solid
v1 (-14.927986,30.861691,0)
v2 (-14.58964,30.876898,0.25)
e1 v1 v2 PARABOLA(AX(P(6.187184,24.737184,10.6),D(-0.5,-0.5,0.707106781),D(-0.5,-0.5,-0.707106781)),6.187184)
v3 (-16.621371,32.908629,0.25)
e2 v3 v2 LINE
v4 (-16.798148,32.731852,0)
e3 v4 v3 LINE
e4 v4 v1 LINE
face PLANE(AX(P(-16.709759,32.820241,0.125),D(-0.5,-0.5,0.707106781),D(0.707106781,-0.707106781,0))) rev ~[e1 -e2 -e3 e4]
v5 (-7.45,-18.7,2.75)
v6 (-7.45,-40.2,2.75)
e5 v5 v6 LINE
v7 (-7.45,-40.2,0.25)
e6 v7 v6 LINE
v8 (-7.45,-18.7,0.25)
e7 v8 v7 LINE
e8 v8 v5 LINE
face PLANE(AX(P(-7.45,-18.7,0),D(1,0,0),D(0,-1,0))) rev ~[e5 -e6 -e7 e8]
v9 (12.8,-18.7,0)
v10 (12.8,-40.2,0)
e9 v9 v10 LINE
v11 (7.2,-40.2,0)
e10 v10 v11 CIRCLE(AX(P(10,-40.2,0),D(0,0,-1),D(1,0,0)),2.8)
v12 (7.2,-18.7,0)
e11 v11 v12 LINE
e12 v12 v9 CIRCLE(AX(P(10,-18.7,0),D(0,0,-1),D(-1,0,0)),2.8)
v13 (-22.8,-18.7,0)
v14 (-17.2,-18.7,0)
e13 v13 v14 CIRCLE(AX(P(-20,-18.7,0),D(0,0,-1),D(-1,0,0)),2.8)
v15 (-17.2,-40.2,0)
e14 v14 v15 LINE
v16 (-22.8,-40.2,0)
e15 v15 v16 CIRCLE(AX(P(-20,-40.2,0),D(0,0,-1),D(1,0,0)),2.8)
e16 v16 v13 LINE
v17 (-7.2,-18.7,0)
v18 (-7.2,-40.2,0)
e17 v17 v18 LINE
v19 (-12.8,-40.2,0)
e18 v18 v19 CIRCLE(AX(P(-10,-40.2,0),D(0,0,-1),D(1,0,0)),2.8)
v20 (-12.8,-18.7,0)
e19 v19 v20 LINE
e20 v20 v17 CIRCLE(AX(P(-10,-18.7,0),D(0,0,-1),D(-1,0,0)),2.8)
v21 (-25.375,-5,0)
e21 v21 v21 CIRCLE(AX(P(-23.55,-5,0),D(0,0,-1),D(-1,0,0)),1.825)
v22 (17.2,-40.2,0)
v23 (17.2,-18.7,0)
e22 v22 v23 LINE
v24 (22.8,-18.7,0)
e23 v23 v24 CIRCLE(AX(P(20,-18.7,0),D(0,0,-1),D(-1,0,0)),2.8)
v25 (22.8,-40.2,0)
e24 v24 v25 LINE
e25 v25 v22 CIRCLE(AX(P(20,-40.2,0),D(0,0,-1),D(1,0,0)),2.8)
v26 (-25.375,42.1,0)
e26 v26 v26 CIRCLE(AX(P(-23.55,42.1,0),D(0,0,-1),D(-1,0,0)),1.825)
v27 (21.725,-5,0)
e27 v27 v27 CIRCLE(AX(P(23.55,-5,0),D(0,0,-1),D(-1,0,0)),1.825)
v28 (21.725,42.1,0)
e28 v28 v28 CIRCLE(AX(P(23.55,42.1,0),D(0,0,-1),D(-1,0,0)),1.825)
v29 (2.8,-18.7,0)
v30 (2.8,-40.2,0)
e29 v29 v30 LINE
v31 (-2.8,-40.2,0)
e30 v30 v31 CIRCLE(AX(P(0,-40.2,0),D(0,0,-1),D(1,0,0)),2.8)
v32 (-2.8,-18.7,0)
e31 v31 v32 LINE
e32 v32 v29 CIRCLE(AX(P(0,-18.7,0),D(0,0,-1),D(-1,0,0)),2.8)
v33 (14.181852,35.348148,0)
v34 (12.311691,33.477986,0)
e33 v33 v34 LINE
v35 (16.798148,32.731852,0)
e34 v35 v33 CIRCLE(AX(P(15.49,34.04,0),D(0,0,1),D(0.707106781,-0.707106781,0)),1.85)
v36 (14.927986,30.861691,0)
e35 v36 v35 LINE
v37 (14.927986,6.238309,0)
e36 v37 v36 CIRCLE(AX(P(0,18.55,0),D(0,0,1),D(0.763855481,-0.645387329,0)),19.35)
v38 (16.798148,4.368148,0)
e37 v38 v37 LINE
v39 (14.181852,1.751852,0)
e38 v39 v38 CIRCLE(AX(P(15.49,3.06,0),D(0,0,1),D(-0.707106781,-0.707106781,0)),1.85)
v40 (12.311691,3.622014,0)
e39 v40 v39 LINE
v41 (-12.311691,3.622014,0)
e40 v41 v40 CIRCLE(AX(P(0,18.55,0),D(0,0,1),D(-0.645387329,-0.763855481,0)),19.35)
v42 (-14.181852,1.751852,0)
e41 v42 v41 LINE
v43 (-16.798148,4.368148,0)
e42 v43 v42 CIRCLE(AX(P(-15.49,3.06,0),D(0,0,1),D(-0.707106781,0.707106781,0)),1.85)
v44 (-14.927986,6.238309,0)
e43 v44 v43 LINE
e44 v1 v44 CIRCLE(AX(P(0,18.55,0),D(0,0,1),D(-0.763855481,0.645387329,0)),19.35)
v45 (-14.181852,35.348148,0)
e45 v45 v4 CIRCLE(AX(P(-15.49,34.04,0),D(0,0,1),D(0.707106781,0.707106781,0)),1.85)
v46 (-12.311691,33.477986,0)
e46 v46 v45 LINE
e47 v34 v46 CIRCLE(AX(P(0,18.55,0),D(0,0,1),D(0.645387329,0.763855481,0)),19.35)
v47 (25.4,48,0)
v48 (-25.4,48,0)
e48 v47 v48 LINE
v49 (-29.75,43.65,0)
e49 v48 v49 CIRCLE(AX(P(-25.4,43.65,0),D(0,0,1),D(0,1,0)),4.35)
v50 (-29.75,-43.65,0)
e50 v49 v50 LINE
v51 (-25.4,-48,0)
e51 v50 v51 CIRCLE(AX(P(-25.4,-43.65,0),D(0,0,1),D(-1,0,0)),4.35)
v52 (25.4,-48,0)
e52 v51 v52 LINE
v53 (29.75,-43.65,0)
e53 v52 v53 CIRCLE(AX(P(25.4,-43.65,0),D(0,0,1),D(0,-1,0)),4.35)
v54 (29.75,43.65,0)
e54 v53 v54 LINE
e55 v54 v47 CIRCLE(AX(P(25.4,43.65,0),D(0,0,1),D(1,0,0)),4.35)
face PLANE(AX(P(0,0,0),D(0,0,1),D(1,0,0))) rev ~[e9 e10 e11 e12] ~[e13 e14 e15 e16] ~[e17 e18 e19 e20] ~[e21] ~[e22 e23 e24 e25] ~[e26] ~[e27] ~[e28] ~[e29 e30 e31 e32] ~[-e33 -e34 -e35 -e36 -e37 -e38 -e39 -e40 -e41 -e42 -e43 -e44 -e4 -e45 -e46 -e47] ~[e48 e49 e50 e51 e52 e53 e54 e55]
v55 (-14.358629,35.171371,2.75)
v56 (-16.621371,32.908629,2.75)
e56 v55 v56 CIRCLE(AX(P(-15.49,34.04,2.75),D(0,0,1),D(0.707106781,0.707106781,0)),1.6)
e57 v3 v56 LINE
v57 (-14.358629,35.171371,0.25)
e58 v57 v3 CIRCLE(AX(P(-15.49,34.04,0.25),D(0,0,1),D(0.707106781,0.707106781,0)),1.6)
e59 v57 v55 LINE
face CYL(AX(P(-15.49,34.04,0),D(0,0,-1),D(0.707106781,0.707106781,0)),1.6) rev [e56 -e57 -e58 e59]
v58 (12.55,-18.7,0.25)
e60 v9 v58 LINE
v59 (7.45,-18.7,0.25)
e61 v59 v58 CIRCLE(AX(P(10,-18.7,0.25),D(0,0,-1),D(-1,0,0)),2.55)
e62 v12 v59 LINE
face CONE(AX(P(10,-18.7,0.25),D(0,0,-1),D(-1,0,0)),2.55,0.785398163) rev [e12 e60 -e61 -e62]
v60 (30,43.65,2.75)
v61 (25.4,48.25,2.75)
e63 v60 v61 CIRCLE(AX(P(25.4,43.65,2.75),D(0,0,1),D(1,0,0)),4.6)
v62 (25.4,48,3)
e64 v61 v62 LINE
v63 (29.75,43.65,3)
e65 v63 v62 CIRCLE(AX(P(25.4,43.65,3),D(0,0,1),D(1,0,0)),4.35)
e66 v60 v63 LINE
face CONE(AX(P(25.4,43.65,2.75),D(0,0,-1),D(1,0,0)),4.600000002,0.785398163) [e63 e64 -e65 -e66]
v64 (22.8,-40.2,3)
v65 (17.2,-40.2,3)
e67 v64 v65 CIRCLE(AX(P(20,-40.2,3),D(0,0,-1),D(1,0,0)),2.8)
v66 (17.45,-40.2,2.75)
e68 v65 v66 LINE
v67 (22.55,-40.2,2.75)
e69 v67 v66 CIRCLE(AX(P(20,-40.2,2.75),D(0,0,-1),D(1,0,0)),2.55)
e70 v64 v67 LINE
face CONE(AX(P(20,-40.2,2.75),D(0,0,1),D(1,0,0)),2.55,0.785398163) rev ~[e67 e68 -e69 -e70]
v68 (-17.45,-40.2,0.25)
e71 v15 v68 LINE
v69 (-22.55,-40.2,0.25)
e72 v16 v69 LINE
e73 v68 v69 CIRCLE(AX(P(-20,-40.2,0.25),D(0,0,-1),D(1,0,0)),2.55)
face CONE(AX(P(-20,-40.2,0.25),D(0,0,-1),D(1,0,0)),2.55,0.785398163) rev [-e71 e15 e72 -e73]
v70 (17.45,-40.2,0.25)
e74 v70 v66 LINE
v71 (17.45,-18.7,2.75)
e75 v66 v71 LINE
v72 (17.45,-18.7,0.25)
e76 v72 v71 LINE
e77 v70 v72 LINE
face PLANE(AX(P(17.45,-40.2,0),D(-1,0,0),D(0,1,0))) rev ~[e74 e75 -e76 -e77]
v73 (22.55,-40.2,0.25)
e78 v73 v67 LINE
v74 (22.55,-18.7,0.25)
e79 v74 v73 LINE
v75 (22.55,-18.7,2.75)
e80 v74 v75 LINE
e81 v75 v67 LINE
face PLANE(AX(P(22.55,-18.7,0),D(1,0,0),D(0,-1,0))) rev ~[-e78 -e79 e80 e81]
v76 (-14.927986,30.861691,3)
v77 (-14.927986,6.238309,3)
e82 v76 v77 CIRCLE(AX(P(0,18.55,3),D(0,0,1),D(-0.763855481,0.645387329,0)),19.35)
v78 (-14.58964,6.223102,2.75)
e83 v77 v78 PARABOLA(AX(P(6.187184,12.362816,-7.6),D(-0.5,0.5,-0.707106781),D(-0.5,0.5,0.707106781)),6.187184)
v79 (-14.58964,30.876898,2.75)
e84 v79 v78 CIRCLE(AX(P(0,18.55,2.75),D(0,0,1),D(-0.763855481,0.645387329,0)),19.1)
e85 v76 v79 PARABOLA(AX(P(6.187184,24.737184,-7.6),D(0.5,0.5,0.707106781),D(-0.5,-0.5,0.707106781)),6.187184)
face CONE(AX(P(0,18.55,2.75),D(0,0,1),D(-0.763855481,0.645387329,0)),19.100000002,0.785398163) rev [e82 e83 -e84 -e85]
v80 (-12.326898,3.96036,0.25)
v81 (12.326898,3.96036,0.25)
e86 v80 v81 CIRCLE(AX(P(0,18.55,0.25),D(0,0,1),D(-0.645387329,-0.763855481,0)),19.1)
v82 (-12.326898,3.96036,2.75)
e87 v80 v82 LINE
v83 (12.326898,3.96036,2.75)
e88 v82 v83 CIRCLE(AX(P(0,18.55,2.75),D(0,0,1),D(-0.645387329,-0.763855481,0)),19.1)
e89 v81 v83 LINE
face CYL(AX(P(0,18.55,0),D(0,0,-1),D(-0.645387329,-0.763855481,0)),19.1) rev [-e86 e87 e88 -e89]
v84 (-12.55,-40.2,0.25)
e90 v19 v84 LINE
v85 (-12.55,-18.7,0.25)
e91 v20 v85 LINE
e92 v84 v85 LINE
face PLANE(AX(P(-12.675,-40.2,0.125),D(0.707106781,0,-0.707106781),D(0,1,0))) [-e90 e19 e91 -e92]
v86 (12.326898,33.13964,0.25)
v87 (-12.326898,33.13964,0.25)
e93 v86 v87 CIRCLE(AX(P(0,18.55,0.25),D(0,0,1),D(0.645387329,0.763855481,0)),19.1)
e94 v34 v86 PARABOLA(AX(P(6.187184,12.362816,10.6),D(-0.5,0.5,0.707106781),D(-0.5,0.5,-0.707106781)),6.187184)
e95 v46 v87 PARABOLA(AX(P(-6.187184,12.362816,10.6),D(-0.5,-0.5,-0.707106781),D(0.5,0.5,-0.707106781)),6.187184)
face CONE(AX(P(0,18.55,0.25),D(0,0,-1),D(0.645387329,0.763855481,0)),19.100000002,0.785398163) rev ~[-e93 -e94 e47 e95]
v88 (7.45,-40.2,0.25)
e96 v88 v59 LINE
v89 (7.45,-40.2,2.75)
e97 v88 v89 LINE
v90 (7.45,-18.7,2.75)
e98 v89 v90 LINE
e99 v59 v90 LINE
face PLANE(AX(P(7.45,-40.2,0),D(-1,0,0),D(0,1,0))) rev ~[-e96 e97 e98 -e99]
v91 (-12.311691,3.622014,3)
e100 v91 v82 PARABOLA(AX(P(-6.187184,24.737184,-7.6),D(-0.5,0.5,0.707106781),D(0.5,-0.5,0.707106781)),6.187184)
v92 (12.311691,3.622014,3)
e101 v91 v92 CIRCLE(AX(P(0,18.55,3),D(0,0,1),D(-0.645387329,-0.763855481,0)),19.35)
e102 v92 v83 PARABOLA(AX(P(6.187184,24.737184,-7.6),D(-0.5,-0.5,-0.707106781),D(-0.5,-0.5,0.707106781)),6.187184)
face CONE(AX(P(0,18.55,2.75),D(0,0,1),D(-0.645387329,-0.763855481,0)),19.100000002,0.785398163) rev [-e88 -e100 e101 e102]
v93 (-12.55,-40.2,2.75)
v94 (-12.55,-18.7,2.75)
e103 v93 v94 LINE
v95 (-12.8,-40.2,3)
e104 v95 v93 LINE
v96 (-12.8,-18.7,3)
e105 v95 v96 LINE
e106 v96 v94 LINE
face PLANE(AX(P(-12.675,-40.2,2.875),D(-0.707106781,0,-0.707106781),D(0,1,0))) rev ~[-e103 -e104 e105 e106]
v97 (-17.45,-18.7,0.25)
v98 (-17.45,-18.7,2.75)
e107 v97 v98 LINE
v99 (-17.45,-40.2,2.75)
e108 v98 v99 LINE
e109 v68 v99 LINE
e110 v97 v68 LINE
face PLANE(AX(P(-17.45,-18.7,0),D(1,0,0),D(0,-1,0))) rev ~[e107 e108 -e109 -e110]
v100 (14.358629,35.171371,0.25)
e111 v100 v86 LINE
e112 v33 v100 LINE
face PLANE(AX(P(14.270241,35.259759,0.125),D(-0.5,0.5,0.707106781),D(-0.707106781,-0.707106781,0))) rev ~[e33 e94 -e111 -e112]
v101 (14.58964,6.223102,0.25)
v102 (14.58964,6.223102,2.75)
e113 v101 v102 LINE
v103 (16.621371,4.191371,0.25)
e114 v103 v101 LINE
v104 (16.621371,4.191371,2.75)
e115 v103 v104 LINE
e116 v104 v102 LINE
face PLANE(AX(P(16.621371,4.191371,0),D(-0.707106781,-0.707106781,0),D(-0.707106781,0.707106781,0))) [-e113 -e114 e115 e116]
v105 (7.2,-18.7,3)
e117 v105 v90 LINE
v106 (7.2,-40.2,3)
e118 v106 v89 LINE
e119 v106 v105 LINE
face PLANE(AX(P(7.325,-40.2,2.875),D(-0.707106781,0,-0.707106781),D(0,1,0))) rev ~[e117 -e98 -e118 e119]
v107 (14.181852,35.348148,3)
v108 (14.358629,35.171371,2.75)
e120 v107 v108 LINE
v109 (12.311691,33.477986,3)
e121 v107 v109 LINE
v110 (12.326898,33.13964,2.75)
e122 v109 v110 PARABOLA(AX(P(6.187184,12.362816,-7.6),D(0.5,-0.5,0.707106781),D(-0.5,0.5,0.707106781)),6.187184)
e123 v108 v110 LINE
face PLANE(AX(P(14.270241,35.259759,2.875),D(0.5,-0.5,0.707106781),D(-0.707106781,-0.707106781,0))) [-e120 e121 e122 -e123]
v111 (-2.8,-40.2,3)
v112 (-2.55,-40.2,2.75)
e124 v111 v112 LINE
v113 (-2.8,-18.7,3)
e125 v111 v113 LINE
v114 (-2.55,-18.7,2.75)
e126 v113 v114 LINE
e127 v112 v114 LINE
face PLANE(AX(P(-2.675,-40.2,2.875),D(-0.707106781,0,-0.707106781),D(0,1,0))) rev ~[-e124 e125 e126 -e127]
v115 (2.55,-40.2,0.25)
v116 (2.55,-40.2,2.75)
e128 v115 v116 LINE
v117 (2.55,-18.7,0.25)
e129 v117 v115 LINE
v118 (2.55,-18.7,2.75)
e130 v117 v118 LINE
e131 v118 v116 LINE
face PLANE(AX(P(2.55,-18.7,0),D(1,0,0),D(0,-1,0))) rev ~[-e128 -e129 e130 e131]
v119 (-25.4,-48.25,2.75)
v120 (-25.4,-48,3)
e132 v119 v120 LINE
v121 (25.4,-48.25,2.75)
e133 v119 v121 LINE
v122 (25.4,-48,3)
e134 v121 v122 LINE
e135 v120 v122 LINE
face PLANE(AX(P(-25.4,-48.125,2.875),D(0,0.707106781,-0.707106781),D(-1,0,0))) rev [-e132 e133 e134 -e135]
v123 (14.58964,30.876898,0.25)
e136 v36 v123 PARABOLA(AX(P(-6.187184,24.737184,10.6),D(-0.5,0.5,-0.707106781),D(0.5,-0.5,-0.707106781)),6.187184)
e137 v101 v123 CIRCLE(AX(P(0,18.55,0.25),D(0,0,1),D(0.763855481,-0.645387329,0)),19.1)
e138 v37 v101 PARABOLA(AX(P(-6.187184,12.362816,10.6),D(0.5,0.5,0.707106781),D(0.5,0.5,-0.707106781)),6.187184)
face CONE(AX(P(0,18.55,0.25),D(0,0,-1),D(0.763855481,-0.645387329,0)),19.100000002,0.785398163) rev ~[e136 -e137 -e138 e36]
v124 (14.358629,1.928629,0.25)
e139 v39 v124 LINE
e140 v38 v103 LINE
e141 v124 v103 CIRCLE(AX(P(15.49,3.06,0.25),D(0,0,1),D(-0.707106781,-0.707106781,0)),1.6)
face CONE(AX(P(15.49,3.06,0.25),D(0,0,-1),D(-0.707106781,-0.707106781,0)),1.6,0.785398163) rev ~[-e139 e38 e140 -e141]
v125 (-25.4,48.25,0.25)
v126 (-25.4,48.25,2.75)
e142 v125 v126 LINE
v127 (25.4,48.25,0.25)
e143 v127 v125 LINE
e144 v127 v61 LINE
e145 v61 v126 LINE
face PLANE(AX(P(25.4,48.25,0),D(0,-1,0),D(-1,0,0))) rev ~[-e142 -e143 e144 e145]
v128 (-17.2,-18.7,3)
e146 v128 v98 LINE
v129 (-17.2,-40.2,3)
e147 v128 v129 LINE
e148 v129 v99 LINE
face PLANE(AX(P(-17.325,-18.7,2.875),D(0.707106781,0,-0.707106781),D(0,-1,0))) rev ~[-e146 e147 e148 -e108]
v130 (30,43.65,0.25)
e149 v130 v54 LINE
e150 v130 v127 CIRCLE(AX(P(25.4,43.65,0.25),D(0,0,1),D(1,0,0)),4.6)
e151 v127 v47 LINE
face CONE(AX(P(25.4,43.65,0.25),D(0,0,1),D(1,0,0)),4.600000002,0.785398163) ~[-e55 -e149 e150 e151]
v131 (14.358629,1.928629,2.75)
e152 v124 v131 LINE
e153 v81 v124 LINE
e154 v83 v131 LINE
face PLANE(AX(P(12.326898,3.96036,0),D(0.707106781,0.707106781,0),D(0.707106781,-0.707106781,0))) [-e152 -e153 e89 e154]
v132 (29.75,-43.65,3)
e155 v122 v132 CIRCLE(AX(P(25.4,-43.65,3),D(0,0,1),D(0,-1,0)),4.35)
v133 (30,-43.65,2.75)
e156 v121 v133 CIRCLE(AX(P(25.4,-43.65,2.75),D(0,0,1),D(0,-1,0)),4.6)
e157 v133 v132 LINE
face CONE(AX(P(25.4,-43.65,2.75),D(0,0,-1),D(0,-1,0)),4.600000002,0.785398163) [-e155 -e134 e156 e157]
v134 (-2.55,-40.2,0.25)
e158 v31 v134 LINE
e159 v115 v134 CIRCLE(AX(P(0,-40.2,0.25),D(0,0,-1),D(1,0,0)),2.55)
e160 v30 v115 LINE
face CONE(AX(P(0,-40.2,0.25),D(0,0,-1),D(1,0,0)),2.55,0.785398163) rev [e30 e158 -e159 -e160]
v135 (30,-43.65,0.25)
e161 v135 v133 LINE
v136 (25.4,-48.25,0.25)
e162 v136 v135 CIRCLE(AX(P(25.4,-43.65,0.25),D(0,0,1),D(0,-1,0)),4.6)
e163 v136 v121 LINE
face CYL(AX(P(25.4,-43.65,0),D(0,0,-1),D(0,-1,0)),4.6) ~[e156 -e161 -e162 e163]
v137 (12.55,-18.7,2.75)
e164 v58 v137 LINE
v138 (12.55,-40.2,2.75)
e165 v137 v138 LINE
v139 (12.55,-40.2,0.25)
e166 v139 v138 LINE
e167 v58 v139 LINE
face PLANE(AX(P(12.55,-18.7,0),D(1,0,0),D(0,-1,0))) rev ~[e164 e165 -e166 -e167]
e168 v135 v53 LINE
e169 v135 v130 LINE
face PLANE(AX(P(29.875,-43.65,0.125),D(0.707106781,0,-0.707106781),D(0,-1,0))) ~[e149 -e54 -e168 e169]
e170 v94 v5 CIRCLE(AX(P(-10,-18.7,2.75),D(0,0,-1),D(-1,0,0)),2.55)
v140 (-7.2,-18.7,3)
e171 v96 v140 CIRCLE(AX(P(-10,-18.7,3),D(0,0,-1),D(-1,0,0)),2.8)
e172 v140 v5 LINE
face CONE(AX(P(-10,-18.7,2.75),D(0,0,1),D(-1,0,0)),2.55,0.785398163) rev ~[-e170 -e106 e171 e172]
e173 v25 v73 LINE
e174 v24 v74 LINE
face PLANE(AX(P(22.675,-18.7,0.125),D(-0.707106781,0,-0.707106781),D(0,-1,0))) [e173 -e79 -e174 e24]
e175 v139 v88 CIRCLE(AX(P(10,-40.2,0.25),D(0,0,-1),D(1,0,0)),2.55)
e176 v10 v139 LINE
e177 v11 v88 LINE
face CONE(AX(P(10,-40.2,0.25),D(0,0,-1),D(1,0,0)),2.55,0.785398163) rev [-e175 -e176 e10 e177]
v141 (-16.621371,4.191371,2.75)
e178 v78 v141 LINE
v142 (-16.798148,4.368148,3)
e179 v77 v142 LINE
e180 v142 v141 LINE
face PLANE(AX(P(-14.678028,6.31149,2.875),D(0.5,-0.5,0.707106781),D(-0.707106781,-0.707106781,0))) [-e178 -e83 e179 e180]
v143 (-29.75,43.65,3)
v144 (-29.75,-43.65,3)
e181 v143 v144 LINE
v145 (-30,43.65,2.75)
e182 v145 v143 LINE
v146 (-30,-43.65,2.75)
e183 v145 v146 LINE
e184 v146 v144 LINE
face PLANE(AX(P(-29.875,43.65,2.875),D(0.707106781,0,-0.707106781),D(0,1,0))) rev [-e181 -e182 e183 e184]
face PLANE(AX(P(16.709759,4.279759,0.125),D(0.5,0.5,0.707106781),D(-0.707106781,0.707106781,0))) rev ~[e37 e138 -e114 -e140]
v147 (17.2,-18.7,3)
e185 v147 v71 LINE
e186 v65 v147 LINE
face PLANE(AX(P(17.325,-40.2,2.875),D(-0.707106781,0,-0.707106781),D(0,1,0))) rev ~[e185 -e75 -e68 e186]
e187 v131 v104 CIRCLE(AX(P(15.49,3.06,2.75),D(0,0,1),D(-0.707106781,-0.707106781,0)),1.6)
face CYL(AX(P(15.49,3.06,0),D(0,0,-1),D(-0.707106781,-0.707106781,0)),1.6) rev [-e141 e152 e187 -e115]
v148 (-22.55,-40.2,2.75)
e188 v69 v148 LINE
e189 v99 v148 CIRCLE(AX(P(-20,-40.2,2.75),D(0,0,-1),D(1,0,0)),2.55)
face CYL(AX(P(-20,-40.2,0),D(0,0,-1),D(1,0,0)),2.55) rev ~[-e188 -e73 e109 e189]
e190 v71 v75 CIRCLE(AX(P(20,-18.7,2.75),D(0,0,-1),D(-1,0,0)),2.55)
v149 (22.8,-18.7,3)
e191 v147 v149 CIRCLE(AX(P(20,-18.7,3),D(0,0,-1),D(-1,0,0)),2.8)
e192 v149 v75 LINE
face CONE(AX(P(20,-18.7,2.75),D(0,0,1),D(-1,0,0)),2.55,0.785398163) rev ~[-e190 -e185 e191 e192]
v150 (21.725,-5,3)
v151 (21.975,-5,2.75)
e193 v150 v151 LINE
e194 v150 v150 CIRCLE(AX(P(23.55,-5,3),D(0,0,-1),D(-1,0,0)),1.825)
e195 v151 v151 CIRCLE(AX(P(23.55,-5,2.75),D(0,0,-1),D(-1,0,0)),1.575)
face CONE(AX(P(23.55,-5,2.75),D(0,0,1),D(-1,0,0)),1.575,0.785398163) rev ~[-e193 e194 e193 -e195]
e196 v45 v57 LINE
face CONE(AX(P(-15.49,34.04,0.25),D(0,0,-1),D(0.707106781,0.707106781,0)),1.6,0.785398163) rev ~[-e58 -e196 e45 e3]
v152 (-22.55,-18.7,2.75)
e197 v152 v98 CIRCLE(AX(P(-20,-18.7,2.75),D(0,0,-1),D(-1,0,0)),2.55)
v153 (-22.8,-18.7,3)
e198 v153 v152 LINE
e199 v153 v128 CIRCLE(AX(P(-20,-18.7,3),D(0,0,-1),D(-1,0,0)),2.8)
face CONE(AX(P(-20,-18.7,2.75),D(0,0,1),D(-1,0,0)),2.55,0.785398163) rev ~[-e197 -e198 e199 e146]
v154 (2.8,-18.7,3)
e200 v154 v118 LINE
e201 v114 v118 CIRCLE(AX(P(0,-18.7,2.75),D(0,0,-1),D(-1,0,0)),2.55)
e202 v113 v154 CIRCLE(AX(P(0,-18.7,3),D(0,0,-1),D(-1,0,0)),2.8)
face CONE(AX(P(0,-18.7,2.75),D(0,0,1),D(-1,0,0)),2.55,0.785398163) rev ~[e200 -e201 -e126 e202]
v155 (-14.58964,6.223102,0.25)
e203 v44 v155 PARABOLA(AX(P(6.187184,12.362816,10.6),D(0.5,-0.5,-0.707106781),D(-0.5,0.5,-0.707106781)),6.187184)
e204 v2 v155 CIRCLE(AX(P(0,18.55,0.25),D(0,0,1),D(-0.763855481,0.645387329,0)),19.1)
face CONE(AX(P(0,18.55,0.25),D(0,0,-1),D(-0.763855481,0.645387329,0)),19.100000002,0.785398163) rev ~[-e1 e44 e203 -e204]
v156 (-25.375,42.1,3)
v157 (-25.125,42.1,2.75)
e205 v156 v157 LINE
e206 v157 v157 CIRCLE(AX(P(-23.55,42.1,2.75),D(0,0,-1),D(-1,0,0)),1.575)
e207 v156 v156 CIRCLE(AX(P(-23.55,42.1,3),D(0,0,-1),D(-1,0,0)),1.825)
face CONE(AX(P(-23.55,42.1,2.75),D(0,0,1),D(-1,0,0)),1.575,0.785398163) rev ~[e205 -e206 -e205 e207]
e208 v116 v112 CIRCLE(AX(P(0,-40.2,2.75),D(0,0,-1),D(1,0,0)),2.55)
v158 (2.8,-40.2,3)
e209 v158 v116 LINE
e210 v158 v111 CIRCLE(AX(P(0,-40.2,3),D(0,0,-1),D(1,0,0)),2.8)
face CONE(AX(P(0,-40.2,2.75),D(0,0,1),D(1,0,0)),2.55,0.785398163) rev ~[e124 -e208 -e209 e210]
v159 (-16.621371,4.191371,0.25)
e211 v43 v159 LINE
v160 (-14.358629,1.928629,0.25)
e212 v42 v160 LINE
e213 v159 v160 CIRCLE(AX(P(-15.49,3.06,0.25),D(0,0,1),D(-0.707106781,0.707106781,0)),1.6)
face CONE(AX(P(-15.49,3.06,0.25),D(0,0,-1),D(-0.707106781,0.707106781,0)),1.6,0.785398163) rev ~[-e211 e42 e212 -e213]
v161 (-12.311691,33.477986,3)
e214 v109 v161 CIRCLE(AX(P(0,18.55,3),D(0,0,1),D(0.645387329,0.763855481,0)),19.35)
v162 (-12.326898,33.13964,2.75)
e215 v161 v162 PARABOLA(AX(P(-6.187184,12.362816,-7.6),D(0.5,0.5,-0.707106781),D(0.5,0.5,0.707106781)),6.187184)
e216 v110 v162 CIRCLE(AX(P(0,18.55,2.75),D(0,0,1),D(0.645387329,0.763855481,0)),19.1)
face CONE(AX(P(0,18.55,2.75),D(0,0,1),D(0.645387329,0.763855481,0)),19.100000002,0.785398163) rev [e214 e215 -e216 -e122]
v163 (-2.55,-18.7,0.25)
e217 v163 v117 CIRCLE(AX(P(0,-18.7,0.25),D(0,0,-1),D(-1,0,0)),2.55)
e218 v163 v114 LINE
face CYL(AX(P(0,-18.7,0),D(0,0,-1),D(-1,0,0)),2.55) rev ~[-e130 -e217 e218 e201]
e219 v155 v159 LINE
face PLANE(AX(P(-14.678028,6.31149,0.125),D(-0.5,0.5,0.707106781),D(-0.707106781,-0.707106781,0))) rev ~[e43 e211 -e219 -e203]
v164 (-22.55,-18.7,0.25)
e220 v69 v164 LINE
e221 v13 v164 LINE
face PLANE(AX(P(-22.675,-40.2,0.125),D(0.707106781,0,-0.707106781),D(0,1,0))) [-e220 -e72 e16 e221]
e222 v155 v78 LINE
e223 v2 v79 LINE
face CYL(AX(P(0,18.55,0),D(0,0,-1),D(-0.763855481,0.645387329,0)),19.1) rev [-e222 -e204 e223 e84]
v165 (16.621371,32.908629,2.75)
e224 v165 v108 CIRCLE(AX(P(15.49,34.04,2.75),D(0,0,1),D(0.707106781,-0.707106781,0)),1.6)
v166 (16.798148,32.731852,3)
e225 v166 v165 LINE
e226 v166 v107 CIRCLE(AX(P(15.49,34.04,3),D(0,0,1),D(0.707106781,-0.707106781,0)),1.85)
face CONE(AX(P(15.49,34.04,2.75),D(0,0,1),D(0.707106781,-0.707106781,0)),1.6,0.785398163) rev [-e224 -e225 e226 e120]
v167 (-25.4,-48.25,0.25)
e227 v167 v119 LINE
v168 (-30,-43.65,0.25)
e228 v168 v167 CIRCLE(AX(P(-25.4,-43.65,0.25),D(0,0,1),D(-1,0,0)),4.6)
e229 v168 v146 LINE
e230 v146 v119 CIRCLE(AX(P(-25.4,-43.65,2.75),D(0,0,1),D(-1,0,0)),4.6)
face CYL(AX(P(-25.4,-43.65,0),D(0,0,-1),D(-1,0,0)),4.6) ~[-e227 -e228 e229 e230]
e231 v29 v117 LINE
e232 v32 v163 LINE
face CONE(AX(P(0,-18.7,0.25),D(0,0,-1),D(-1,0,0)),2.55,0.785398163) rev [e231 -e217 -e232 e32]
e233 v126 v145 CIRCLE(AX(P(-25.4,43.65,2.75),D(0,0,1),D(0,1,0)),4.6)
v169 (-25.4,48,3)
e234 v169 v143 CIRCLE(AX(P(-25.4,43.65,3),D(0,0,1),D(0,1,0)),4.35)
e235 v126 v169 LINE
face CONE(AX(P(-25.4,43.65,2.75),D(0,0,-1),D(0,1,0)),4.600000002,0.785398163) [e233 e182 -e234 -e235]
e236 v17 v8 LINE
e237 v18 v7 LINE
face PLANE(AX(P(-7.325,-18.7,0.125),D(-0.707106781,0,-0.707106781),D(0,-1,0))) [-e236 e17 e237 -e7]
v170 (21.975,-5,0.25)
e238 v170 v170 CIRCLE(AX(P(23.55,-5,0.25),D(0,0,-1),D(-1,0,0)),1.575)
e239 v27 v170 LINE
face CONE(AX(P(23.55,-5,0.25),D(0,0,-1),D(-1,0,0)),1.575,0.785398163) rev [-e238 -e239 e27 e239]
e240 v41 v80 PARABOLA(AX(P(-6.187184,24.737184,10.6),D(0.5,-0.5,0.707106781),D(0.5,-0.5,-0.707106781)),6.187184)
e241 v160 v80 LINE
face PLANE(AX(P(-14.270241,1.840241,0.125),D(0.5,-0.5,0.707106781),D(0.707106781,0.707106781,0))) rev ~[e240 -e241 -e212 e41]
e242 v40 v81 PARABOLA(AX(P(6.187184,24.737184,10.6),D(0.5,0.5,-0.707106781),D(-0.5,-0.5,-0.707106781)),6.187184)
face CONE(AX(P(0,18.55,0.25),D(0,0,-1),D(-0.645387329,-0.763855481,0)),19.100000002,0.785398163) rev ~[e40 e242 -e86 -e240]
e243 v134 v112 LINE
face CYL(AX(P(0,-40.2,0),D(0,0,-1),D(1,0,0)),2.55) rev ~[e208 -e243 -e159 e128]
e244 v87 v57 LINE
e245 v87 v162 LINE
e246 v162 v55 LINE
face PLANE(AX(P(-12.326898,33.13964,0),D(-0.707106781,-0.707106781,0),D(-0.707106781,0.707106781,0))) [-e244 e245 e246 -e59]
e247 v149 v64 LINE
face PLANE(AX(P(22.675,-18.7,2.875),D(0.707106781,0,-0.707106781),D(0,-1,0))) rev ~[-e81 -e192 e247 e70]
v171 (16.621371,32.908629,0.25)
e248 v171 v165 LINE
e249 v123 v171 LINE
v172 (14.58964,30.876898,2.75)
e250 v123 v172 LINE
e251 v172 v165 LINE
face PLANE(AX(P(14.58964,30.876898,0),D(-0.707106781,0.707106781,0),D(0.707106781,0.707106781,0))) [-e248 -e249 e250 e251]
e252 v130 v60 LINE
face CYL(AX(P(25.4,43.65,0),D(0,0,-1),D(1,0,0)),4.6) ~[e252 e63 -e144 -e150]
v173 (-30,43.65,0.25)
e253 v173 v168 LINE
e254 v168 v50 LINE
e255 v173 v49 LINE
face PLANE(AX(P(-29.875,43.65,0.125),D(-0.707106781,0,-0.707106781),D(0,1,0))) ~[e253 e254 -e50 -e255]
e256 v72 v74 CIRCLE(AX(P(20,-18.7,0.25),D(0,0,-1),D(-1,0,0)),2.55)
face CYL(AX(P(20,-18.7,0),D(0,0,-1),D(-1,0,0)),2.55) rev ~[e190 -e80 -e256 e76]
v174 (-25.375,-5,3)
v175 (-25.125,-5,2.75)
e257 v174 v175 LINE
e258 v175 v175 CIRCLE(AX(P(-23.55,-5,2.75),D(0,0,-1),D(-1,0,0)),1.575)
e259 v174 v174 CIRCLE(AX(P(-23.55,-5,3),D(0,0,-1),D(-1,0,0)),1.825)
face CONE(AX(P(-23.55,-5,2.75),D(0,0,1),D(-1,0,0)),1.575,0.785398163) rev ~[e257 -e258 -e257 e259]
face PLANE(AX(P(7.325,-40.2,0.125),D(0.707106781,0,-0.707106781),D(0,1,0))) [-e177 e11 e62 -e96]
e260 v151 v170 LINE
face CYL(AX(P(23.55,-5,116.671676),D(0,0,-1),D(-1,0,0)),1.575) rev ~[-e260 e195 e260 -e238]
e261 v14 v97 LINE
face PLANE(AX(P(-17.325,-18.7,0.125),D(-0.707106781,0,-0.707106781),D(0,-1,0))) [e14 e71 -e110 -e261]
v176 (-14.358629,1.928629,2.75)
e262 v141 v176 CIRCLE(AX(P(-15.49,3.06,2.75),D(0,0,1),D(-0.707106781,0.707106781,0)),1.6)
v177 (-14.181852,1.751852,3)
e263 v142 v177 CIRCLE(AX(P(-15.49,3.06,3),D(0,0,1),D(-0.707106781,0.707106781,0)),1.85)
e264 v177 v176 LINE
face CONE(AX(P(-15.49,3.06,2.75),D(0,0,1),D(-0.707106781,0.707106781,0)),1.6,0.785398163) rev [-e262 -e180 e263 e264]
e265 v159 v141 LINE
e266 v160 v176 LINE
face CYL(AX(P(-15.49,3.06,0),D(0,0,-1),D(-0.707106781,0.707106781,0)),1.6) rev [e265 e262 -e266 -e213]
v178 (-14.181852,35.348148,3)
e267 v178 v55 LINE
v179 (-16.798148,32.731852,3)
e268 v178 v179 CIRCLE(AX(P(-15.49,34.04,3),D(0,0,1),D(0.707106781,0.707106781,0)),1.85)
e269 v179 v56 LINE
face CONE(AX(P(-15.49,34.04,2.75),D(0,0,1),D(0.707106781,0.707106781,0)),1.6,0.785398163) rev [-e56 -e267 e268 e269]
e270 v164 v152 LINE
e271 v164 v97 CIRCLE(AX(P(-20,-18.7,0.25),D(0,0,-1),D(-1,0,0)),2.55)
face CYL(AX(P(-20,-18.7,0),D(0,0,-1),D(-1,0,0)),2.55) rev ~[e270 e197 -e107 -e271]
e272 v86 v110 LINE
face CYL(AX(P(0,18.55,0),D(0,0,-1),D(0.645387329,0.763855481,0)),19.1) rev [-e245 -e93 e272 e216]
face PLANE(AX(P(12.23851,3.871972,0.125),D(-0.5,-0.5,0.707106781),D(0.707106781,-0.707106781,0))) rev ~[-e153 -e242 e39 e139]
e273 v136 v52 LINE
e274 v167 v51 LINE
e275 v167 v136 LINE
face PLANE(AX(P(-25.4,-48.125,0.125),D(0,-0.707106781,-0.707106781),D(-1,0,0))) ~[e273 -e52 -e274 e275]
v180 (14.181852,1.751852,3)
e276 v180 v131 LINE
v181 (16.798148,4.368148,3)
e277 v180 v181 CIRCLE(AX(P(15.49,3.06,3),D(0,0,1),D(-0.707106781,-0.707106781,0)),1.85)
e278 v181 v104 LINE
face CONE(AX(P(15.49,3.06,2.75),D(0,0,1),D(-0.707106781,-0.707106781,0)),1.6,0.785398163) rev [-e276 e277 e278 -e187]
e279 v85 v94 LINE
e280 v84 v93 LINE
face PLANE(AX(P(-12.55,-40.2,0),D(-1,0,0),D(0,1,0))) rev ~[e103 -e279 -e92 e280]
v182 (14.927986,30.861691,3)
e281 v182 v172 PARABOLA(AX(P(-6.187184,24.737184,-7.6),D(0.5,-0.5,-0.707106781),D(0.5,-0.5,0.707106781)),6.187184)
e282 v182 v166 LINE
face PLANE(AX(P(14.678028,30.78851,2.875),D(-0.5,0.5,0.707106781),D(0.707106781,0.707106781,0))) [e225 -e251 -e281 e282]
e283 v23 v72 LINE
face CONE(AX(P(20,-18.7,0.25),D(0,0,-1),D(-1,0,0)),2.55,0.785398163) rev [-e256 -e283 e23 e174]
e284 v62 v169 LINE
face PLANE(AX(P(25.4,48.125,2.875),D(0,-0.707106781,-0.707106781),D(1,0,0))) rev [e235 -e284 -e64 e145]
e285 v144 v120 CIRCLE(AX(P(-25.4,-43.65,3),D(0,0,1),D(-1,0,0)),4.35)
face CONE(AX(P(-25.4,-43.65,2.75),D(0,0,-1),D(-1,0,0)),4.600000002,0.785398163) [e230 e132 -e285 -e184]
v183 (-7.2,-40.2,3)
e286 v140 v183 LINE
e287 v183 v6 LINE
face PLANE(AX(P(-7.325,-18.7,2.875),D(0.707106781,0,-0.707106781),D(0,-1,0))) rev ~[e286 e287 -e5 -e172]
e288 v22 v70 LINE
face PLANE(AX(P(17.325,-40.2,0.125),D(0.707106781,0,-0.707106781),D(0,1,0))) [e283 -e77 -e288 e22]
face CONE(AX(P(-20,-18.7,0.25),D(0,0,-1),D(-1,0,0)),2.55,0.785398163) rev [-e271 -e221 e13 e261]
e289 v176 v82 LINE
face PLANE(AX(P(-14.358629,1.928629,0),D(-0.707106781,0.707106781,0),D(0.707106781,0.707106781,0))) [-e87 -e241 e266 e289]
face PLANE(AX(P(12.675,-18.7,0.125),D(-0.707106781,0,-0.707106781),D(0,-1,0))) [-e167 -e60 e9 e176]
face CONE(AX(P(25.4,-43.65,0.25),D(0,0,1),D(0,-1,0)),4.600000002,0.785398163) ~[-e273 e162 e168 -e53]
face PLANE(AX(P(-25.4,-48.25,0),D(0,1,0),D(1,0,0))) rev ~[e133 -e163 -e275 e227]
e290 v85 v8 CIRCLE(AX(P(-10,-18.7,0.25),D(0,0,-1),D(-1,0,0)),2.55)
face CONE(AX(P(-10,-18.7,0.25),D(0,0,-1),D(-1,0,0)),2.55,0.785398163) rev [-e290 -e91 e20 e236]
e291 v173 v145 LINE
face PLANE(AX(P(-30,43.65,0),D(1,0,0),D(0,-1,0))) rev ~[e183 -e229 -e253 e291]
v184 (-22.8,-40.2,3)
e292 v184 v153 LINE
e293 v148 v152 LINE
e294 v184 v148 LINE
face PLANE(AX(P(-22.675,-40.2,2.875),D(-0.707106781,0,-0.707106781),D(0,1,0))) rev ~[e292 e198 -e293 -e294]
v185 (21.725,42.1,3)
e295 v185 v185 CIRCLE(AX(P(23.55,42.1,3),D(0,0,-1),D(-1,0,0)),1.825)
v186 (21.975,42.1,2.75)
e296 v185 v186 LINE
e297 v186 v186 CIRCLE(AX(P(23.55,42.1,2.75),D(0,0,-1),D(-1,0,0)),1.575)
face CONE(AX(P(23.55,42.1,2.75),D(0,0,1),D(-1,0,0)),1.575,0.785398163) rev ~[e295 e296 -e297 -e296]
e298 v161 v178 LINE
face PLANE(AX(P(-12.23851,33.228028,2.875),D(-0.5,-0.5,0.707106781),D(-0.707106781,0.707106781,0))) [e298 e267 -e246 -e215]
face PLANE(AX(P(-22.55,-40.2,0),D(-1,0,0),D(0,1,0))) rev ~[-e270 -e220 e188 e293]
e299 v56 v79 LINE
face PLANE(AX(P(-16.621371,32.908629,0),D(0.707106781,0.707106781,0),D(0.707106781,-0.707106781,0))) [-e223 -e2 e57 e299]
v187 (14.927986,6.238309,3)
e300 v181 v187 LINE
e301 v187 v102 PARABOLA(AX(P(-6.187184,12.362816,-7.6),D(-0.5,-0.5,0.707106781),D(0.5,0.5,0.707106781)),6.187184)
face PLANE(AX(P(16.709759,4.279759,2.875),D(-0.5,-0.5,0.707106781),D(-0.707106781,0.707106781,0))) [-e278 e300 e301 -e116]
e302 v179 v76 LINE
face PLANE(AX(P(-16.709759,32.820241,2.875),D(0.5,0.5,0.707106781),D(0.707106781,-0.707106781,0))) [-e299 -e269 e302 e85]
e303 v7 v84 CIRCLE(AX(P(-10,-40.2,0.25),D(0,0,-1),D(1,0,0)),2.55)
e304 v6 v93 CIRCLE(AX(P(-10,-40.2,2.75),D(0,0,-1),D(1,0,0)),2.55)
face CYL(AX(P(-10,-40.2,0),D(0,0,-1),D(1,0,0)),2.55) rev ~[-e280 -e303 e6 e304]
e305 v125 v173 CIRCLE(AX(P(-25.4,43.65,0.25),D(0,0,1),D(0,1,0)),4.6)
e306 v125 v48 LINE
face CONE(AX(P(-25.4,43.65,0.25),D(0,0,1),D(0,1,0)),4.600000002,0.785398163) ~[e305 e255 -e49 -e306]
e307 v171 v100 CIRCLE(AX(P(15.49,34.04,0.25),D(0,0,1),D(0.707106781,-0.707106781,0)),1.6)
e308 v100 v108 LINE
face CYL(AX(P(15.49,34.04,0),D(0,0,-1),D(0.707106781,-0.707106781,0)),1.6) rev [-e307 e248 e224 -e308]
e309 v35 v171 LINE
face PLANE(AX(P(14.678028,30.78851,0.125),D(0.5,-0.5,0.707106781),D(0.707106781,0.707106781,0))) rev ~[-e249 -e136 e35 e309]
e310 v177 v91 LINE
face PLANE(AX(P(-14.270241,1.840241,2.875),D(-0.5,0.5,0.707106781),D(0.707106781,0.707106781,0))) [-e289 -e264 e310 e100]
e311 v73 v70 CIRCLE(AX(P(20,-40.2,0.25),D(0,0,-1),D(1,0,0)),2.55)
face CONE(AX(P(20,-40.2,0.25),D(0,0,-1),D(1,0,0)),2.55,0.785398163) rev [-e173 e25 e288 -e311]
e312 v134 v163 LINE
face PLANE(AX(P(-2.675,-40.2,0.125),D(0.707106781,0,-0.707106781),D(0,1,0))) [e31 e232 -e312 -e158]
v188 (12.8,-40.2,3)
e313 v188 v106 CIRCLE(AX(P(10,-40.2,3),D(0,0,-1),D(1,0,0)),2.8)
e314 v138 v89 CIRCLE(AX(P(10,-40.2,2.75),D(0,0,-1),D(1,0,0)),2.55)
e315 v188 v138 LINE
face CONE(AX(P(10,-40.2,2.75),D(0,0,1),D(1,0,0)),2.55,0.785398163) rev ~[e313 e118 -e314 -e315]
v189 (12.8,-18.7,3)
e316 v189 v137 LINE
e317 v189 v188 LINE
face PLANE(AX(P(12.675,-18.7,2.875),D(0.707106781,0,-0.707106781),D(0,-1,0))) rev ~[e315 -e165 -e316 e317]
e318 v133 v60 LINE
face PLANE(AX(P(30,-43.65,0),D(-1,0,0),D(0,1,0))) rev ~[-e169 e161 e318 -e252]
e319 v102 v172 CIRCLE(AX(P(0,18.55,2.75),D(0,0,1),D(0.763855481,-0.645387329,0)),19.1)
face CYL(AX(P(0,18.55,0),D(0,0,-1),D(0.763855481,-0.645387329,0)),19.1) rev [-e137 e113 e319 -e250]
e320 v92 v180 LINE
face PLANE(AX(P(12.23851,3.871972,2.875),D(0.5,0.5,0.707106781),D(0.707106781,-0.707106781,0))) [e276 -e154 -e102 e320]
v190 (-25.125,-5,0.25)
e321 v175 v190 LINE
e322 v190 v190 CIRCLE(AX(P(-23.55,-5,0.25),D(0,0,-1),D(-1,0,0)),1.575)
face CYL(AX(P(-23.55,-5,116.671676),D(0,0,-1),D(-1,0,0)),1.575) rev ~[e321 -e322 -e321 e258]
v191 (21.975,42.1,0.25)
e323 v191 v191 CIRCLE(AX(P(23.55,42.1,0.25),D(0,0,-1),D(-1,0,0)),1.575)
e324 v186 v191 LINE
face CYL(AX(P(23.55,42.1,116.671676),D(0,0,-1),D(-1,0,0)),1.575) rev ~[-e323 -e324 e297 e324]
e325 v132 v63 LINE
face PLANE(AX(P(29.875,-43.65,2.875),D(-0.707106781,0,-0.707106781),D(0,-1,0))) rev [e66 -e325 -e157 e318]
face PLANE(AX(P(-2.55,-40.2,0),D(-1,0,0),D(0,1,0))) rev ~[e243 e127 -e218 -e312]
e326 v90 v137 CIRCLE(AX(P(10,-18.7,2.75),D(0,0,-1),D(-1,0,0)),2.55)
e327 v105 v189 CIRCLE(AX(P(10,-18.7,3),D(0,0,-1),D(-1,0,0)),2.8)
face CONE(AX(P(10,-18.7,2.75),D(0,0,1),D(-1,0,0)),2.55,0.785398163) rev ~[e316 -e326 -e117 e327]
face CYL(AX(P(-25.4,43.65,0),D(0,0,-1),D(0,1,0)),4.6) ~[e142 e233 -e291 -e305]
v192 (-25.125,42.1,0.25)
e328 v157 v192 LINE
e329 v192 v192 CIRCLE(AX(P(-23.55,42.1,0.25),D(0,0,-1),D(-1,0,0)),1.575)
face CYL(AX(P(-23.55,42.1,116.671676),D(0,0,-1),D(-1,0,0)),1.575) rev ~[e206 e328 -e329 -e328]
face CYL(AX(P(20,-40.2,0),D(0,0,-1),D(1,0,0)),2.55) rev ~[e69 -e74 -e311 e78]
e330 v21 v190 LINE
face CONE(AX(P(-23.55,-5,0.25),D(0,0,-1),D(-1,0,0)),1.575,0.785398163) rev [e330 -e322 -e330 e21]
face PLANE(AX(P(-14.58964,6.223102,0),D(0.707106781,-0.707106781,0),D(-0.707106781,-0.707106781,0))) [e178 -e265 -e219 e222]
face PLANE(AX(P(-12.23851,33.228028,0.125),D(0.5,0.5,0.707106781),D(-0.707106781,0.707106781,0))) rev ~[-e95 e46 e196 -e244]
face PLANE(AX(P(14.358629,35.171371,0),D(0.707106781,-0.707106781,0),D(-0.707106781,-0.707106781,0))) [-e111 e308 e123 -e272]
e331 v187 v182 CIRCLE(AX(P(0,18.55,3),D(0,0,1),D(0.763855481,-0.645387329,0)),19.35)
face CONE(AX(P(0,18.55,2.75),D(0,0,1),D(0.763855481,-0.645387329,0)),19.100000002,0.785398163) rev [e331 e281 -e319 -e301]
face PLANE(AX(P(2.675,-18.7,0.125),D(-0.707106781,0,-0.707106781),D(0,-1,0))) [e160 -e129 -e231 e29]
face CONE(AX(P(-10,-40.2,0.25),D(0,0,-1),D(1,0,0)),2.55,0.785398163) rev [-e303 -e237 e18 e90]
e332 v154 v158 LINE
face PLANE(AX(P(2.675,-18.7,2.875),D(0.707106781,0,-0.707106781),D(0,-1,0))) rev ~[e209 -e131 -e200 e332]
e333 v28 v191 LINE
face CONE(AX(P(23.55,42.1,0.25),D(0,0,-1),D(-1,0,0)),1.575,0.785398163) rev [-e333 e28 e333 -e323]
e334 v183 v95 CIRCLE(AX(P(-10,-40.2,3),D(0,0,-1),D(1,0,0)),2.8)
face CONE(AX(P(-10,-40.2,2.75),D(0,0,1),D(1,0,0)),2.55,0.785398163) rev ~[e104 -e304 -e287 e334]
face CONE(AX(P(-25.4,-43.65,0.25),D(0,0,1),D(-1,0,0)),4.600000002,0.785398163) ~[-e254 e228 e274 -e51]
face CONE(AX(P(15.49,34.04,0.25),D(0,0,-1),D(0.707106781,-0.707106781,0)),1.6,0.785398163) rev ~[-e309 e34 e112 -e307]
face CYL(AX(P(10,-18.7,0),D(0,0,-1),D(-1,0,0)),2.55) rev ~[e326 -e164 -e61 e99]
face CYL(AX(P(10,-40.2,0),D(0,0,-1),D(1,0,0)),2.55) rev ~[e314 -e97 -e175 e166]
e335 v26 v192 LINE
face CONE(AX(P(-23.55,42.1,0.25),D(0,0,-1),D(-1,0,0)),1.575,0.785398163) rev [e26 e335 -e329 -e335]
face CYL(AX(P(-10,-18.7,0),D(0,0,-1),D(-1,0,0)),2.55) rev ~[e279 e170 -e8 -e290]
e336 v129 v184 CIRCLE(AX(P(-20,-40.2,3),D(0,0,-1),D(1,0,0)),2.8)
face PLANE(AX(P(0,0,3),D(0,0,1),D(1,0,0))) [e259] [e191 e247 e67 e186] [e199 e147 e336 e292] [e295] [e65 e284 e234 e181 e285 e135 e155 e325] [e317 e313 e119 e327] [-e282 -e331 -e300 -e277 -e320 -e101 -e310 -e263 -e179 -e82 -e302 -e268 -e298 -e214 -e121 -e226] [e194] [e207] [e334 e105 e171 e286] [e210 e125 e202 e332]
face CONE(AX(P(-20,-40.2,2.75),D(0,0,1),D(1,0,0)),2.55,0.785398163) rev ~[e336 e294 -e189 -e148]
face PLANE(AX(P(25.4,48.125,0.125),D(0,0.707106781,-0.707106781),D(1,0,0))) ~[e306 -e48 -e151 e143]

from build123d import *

# Parameters (mm, degrees)
EXTRUDE_1_DEPTH   = 3
HOLE_WIZARD_M31_D = 3.15
CHAMFER_2_SIZE    = 0.25


with BuildPart() as part:
    # Эскиз1 → Бобышка-Вытянуть1 (new body)
    with BuildSketch(Plane.XY):
        with BuildLine():
            Line((-25.4, -48.25), (25.4, -48.25))
            ThreePointArc((25.4, -48.25), (28.652691193, -46.902691193), (30, -43.65))
            Line((30, -43.65), (30, 43.65))
            ThreePointArc((30, 43.65), (28.652691193, 46.902691193), (25.4, 48.25))
            Line((25.4, 48.25), (-25.4, 48.25))
            ThreePointArc((-25.4, 48.25), (-28.652691193, 46.902691193), (-30, 43.65))
            Line((-30, 43.65), (-30, -43.65))
            ThreePointArc((-30, -43.65), (-28.652691193, -46.902691193), (-25.4, -48.25))
        make_face()
        with BuildLine():
            Line((-12.55, -40.2), (-12.55, -18.7))
            ThreePointArc((-12.55, -18.7), (-10, -16.15), (-7.45, -18.7))
            Line((-7.45, -18.7), (-7.45, -40.2))
            ThreePointArc((-7.45, -40.2), (-10, -42.75), (-12.55, -40.2))
        make_face(mode=Mode.SUBTRACT)
        with BuildLine():
            Line((-22.55, -40.2), (-22.55, -18.7))
            ThreePointArc((-22.55, -18.7), (-20, -16.15), (-17.45, -18.7))
            Line((-17.45, -18.7), (-17.45, -40.2))
            ThreePointArc((-17.45, -40.2), (-20, -42.75), (-22.55, -40.2))
        make_face(mode=Mode.SUBTRACT)
        with BuildLine():
            Line((-2.55, -40.2), (-2.55, -18.7))
            ThreePointArc((-2.55, -18.7), (0, -16.15), (2.55, -18.7))
            Line((2.55, -18.7), (2.55, -40.2))
            ThreePointArc((2.55, -40.2), (0, -42.75), (-2.55, -40.2))
        make_face(mode=Mode.SUBTRACT)
        with BuildLine():
            Line((7.45, -40.2), (7.45, -18.7))
            ThreePointArc((7.45, -18.7), (10, -16.15), (12.55, -18.7))
            Line((12.55, -18.7), (12.55, -40.2))
            ThreePointArc((12.55, -40.2), (10, -42.75), (7.45, -40.2))
        make_face(mode=Mode.SUBTRACT)
        with BuildLine():
            Line((17.45, -40.2), (17.45, -18.7))
            ThreePointArc((17.45, -18.7), (20, -16.15), (22.55, -18.7))
            Line((22.55, -18.7), (22.55, -40.2))
            ThreePointArc((22.55, -40.2), (20, -42.75), (17.45, -40.2))
        make_face(mode=Mode.SUBTRACT)
        with BuildLine():
            Line((-16.62137085, 32.90862915), (-14.589639684, 30.876897984))
            ThreePointArc((-14.589639684, 30.876897984), (-19.1, 18.55), (-14.589639684, 6.223102016))
            Line((-14.589639684, 6.223102016), (-16.62137085, 4.19137085))
            ThreePointArc((-16.62137085, 4.19137085), (-16.62137085, 1.92862915), (-14.35862915, 1.92862915))
            Line((-14.35862915, 1.92862915), (-12.326897984, 3.960360316))
            ThreePointArc((-12.326897984, 3.960360316), (0, -0.55), (12.326897984, 3.960360316))
            Line((12.326897984, 3.960360316), (14.35862915, 1.92862915))
            ThreePointArc((14.35862915, 1.92862915), (16.62137085, 1.92862915), (16.62137085, 4.19137085))
            Line((16.62137085, 4.19137085), (14.589639684, 6.223102016))
            ThreePointArc((14.589639684, 6.223102016), (19.1, 18.55), (14.589639684, 30.876897984))
            Line((14.589639684, 30.876897984), (16.62137085, 32.90862915))
            ThreePointArc((16.62137085, 32.90862915), (16.62137085, 35.17137085), (14.35862915, 35.17137085))
            Line((14.35862915, 35.17137085), (12.326897984, 33.139639684))
            ThreePointArc((12.326897984, 33.139639684), (0, 37.65), (-12.326897984, 33.139639684))
            Line((-12.326897984, 33.139639684), (-14.35862915, 35.17137085))
            ThreePointArc((-14.35862915, 35.17137085), (-16.62137085, 35.17137085), (-16.62137085, 32.90862915))
        make_face(mode=Mode.SUBTRACT)
    extrude(amount=EXTRUDE_1_DEPTH)

    # Сверло под метчик  спиральное M31 (through all)
    with Locations(Plane.XY.offset(3)):
        with Locations((-23.55, 42.1), (23.55, 42.1), (23.55, -5), (-23.55, -5)):
            Hole(HOLE_WIZARD_M31_D / 2)

    # Фаска2
    chamfer_2_edges = [part.edges().sort_by_distance(p)[0] for p in [
        (28.652691193, -46.902691193, 3),
        (0, -48.25, 0),
        (-28.652691193, -46.902691193, 0),
        (10, -16.15, 0),
        (7.45, -29.45, 0),
        (10, -42.75, 0),
        (12.55, -29.45, 0),
        (10, -16.15, 3),
        (7.45, -29.45, 3),
        (10, -42.75, 3),
        (12.55, -29.45, 3),
        (20, -16.15, 0),
        (17.45, -29.45, 0),
        (20, -42.75, 0),
        (22.55, -29.45, 0),
        (20, -16.15, 3),
        (17.45, -29.45, 3),
        (20, -42.75, 3),
        (22.55, -29.45, 3),
        (30, 0, 3),
        (-21.975, -5, 3),
        (-21.975, -5, 0),
        (25.125, -5, 3),
        (25.125, -5, 0),
        (25.125, 42.1, 3),
        (25.125, 42.1, 0),
        (28.652691193, 46.902691193, 3),
        (-21.975, 42.1, 3),
        (-21.975, 42.1, 0),
        (0, 48.25, 3),
        (-28.652691193, 46.902691193, 3),
        (-30, 0, 3),
        (19.1, 18.55, 0),
        (15.605505267, 31.892763567, 0),
        (16.62137085, 35.17137085, 0),
        (13.342763567, 34.155505267, 0),
        (0, 37.65, 0),
        (-13.342763567, 34.155505267, 0),
        (-16.62137085, 35.17137085, 0),
        (-15.605505267, 31.892763567, 0),
        (-19.1, 18.55, 0),
        (-15.605505267, 5.207236433, 0),
        (-16.62137085, 1.92862915, 0),
        (-13.342763567, 2.944494733, 0),
        (0, -0.55, 0),
        (13.342763567, 2.944494733, 0),
        (16.62137085, 1.92862915, 0),
        (15.605505267, 5.207236433, 0),
        (19.1, 18.55, 3),
        (15.605505267, 31.892763567, 3),
        (-28.652691193, -46.902691193, 3),
        (16.62137085, 35.17137085, 3),
        (13.342763567, 34.155505267, 3),
        (0, 37.65, 3),
        (-13.342763567, 34.155505267, 3),
        (-16.62137085, 35.17137085, 3),
        (-15.605505267, 31.892763567, 3),
        (-19.1, 18.55, 3),
        (-15.605505267, 5.207236433, 3),
        (-16.62137085, 1.92862915, 3),
        (-13.342763567, 2.944494733, 3),
        (0, -0.55, 3),
        (13.342763567, 2.944494733, 3),
        (16.62137085, 1.92862915, 3),
        (15.605505267, 5.207236433, 3),
        (-20, -16.15, 0),
        (-22.55, -29.45, 0),
        (-20, -42.75, 0),
        (0, -48.25, 3),
        (-17.45, -29.45, 0),
        (-20, -16.15, 3),
        (-22.55, -29.45, 3),
        (-20, -42.75, 3),
        (-17.45, -29.45, 3),
        (-30, 0, 0),
        (-28.652691193, 46.902691193, 0),
        (-10, -16.15, 0),
        (-12.55, -29.45, 0),
        (-10, -42.75, 0),
        (-7.45, -29.45, 0),
        (-10, -16.15, 3),
        (-12.55, -29.45, 3),
        (-10, -42.75, 3),
        (-7.45, -29.45, 3),
        (0, 48.25, 0),
        (28.652691193, 46.902691193, 0),
        (30, 0, 0),
        (0, -16.15, 0),
        (-2.55, -29.45, 0),
        (0, -42.75, 0),
        (2.55, -29.45, 0),
        (0, -16.15, 3),
        (-2.55, -29.45, 3),
        (28.652691193, -46.902691193, 0),
        (0, -42.75, 3),
        (2.55, -29.45, 3),
    ]]
    chamfer(chamfer_2_edges, length=CHAMFER_2_SIZE)


solid = part.part
